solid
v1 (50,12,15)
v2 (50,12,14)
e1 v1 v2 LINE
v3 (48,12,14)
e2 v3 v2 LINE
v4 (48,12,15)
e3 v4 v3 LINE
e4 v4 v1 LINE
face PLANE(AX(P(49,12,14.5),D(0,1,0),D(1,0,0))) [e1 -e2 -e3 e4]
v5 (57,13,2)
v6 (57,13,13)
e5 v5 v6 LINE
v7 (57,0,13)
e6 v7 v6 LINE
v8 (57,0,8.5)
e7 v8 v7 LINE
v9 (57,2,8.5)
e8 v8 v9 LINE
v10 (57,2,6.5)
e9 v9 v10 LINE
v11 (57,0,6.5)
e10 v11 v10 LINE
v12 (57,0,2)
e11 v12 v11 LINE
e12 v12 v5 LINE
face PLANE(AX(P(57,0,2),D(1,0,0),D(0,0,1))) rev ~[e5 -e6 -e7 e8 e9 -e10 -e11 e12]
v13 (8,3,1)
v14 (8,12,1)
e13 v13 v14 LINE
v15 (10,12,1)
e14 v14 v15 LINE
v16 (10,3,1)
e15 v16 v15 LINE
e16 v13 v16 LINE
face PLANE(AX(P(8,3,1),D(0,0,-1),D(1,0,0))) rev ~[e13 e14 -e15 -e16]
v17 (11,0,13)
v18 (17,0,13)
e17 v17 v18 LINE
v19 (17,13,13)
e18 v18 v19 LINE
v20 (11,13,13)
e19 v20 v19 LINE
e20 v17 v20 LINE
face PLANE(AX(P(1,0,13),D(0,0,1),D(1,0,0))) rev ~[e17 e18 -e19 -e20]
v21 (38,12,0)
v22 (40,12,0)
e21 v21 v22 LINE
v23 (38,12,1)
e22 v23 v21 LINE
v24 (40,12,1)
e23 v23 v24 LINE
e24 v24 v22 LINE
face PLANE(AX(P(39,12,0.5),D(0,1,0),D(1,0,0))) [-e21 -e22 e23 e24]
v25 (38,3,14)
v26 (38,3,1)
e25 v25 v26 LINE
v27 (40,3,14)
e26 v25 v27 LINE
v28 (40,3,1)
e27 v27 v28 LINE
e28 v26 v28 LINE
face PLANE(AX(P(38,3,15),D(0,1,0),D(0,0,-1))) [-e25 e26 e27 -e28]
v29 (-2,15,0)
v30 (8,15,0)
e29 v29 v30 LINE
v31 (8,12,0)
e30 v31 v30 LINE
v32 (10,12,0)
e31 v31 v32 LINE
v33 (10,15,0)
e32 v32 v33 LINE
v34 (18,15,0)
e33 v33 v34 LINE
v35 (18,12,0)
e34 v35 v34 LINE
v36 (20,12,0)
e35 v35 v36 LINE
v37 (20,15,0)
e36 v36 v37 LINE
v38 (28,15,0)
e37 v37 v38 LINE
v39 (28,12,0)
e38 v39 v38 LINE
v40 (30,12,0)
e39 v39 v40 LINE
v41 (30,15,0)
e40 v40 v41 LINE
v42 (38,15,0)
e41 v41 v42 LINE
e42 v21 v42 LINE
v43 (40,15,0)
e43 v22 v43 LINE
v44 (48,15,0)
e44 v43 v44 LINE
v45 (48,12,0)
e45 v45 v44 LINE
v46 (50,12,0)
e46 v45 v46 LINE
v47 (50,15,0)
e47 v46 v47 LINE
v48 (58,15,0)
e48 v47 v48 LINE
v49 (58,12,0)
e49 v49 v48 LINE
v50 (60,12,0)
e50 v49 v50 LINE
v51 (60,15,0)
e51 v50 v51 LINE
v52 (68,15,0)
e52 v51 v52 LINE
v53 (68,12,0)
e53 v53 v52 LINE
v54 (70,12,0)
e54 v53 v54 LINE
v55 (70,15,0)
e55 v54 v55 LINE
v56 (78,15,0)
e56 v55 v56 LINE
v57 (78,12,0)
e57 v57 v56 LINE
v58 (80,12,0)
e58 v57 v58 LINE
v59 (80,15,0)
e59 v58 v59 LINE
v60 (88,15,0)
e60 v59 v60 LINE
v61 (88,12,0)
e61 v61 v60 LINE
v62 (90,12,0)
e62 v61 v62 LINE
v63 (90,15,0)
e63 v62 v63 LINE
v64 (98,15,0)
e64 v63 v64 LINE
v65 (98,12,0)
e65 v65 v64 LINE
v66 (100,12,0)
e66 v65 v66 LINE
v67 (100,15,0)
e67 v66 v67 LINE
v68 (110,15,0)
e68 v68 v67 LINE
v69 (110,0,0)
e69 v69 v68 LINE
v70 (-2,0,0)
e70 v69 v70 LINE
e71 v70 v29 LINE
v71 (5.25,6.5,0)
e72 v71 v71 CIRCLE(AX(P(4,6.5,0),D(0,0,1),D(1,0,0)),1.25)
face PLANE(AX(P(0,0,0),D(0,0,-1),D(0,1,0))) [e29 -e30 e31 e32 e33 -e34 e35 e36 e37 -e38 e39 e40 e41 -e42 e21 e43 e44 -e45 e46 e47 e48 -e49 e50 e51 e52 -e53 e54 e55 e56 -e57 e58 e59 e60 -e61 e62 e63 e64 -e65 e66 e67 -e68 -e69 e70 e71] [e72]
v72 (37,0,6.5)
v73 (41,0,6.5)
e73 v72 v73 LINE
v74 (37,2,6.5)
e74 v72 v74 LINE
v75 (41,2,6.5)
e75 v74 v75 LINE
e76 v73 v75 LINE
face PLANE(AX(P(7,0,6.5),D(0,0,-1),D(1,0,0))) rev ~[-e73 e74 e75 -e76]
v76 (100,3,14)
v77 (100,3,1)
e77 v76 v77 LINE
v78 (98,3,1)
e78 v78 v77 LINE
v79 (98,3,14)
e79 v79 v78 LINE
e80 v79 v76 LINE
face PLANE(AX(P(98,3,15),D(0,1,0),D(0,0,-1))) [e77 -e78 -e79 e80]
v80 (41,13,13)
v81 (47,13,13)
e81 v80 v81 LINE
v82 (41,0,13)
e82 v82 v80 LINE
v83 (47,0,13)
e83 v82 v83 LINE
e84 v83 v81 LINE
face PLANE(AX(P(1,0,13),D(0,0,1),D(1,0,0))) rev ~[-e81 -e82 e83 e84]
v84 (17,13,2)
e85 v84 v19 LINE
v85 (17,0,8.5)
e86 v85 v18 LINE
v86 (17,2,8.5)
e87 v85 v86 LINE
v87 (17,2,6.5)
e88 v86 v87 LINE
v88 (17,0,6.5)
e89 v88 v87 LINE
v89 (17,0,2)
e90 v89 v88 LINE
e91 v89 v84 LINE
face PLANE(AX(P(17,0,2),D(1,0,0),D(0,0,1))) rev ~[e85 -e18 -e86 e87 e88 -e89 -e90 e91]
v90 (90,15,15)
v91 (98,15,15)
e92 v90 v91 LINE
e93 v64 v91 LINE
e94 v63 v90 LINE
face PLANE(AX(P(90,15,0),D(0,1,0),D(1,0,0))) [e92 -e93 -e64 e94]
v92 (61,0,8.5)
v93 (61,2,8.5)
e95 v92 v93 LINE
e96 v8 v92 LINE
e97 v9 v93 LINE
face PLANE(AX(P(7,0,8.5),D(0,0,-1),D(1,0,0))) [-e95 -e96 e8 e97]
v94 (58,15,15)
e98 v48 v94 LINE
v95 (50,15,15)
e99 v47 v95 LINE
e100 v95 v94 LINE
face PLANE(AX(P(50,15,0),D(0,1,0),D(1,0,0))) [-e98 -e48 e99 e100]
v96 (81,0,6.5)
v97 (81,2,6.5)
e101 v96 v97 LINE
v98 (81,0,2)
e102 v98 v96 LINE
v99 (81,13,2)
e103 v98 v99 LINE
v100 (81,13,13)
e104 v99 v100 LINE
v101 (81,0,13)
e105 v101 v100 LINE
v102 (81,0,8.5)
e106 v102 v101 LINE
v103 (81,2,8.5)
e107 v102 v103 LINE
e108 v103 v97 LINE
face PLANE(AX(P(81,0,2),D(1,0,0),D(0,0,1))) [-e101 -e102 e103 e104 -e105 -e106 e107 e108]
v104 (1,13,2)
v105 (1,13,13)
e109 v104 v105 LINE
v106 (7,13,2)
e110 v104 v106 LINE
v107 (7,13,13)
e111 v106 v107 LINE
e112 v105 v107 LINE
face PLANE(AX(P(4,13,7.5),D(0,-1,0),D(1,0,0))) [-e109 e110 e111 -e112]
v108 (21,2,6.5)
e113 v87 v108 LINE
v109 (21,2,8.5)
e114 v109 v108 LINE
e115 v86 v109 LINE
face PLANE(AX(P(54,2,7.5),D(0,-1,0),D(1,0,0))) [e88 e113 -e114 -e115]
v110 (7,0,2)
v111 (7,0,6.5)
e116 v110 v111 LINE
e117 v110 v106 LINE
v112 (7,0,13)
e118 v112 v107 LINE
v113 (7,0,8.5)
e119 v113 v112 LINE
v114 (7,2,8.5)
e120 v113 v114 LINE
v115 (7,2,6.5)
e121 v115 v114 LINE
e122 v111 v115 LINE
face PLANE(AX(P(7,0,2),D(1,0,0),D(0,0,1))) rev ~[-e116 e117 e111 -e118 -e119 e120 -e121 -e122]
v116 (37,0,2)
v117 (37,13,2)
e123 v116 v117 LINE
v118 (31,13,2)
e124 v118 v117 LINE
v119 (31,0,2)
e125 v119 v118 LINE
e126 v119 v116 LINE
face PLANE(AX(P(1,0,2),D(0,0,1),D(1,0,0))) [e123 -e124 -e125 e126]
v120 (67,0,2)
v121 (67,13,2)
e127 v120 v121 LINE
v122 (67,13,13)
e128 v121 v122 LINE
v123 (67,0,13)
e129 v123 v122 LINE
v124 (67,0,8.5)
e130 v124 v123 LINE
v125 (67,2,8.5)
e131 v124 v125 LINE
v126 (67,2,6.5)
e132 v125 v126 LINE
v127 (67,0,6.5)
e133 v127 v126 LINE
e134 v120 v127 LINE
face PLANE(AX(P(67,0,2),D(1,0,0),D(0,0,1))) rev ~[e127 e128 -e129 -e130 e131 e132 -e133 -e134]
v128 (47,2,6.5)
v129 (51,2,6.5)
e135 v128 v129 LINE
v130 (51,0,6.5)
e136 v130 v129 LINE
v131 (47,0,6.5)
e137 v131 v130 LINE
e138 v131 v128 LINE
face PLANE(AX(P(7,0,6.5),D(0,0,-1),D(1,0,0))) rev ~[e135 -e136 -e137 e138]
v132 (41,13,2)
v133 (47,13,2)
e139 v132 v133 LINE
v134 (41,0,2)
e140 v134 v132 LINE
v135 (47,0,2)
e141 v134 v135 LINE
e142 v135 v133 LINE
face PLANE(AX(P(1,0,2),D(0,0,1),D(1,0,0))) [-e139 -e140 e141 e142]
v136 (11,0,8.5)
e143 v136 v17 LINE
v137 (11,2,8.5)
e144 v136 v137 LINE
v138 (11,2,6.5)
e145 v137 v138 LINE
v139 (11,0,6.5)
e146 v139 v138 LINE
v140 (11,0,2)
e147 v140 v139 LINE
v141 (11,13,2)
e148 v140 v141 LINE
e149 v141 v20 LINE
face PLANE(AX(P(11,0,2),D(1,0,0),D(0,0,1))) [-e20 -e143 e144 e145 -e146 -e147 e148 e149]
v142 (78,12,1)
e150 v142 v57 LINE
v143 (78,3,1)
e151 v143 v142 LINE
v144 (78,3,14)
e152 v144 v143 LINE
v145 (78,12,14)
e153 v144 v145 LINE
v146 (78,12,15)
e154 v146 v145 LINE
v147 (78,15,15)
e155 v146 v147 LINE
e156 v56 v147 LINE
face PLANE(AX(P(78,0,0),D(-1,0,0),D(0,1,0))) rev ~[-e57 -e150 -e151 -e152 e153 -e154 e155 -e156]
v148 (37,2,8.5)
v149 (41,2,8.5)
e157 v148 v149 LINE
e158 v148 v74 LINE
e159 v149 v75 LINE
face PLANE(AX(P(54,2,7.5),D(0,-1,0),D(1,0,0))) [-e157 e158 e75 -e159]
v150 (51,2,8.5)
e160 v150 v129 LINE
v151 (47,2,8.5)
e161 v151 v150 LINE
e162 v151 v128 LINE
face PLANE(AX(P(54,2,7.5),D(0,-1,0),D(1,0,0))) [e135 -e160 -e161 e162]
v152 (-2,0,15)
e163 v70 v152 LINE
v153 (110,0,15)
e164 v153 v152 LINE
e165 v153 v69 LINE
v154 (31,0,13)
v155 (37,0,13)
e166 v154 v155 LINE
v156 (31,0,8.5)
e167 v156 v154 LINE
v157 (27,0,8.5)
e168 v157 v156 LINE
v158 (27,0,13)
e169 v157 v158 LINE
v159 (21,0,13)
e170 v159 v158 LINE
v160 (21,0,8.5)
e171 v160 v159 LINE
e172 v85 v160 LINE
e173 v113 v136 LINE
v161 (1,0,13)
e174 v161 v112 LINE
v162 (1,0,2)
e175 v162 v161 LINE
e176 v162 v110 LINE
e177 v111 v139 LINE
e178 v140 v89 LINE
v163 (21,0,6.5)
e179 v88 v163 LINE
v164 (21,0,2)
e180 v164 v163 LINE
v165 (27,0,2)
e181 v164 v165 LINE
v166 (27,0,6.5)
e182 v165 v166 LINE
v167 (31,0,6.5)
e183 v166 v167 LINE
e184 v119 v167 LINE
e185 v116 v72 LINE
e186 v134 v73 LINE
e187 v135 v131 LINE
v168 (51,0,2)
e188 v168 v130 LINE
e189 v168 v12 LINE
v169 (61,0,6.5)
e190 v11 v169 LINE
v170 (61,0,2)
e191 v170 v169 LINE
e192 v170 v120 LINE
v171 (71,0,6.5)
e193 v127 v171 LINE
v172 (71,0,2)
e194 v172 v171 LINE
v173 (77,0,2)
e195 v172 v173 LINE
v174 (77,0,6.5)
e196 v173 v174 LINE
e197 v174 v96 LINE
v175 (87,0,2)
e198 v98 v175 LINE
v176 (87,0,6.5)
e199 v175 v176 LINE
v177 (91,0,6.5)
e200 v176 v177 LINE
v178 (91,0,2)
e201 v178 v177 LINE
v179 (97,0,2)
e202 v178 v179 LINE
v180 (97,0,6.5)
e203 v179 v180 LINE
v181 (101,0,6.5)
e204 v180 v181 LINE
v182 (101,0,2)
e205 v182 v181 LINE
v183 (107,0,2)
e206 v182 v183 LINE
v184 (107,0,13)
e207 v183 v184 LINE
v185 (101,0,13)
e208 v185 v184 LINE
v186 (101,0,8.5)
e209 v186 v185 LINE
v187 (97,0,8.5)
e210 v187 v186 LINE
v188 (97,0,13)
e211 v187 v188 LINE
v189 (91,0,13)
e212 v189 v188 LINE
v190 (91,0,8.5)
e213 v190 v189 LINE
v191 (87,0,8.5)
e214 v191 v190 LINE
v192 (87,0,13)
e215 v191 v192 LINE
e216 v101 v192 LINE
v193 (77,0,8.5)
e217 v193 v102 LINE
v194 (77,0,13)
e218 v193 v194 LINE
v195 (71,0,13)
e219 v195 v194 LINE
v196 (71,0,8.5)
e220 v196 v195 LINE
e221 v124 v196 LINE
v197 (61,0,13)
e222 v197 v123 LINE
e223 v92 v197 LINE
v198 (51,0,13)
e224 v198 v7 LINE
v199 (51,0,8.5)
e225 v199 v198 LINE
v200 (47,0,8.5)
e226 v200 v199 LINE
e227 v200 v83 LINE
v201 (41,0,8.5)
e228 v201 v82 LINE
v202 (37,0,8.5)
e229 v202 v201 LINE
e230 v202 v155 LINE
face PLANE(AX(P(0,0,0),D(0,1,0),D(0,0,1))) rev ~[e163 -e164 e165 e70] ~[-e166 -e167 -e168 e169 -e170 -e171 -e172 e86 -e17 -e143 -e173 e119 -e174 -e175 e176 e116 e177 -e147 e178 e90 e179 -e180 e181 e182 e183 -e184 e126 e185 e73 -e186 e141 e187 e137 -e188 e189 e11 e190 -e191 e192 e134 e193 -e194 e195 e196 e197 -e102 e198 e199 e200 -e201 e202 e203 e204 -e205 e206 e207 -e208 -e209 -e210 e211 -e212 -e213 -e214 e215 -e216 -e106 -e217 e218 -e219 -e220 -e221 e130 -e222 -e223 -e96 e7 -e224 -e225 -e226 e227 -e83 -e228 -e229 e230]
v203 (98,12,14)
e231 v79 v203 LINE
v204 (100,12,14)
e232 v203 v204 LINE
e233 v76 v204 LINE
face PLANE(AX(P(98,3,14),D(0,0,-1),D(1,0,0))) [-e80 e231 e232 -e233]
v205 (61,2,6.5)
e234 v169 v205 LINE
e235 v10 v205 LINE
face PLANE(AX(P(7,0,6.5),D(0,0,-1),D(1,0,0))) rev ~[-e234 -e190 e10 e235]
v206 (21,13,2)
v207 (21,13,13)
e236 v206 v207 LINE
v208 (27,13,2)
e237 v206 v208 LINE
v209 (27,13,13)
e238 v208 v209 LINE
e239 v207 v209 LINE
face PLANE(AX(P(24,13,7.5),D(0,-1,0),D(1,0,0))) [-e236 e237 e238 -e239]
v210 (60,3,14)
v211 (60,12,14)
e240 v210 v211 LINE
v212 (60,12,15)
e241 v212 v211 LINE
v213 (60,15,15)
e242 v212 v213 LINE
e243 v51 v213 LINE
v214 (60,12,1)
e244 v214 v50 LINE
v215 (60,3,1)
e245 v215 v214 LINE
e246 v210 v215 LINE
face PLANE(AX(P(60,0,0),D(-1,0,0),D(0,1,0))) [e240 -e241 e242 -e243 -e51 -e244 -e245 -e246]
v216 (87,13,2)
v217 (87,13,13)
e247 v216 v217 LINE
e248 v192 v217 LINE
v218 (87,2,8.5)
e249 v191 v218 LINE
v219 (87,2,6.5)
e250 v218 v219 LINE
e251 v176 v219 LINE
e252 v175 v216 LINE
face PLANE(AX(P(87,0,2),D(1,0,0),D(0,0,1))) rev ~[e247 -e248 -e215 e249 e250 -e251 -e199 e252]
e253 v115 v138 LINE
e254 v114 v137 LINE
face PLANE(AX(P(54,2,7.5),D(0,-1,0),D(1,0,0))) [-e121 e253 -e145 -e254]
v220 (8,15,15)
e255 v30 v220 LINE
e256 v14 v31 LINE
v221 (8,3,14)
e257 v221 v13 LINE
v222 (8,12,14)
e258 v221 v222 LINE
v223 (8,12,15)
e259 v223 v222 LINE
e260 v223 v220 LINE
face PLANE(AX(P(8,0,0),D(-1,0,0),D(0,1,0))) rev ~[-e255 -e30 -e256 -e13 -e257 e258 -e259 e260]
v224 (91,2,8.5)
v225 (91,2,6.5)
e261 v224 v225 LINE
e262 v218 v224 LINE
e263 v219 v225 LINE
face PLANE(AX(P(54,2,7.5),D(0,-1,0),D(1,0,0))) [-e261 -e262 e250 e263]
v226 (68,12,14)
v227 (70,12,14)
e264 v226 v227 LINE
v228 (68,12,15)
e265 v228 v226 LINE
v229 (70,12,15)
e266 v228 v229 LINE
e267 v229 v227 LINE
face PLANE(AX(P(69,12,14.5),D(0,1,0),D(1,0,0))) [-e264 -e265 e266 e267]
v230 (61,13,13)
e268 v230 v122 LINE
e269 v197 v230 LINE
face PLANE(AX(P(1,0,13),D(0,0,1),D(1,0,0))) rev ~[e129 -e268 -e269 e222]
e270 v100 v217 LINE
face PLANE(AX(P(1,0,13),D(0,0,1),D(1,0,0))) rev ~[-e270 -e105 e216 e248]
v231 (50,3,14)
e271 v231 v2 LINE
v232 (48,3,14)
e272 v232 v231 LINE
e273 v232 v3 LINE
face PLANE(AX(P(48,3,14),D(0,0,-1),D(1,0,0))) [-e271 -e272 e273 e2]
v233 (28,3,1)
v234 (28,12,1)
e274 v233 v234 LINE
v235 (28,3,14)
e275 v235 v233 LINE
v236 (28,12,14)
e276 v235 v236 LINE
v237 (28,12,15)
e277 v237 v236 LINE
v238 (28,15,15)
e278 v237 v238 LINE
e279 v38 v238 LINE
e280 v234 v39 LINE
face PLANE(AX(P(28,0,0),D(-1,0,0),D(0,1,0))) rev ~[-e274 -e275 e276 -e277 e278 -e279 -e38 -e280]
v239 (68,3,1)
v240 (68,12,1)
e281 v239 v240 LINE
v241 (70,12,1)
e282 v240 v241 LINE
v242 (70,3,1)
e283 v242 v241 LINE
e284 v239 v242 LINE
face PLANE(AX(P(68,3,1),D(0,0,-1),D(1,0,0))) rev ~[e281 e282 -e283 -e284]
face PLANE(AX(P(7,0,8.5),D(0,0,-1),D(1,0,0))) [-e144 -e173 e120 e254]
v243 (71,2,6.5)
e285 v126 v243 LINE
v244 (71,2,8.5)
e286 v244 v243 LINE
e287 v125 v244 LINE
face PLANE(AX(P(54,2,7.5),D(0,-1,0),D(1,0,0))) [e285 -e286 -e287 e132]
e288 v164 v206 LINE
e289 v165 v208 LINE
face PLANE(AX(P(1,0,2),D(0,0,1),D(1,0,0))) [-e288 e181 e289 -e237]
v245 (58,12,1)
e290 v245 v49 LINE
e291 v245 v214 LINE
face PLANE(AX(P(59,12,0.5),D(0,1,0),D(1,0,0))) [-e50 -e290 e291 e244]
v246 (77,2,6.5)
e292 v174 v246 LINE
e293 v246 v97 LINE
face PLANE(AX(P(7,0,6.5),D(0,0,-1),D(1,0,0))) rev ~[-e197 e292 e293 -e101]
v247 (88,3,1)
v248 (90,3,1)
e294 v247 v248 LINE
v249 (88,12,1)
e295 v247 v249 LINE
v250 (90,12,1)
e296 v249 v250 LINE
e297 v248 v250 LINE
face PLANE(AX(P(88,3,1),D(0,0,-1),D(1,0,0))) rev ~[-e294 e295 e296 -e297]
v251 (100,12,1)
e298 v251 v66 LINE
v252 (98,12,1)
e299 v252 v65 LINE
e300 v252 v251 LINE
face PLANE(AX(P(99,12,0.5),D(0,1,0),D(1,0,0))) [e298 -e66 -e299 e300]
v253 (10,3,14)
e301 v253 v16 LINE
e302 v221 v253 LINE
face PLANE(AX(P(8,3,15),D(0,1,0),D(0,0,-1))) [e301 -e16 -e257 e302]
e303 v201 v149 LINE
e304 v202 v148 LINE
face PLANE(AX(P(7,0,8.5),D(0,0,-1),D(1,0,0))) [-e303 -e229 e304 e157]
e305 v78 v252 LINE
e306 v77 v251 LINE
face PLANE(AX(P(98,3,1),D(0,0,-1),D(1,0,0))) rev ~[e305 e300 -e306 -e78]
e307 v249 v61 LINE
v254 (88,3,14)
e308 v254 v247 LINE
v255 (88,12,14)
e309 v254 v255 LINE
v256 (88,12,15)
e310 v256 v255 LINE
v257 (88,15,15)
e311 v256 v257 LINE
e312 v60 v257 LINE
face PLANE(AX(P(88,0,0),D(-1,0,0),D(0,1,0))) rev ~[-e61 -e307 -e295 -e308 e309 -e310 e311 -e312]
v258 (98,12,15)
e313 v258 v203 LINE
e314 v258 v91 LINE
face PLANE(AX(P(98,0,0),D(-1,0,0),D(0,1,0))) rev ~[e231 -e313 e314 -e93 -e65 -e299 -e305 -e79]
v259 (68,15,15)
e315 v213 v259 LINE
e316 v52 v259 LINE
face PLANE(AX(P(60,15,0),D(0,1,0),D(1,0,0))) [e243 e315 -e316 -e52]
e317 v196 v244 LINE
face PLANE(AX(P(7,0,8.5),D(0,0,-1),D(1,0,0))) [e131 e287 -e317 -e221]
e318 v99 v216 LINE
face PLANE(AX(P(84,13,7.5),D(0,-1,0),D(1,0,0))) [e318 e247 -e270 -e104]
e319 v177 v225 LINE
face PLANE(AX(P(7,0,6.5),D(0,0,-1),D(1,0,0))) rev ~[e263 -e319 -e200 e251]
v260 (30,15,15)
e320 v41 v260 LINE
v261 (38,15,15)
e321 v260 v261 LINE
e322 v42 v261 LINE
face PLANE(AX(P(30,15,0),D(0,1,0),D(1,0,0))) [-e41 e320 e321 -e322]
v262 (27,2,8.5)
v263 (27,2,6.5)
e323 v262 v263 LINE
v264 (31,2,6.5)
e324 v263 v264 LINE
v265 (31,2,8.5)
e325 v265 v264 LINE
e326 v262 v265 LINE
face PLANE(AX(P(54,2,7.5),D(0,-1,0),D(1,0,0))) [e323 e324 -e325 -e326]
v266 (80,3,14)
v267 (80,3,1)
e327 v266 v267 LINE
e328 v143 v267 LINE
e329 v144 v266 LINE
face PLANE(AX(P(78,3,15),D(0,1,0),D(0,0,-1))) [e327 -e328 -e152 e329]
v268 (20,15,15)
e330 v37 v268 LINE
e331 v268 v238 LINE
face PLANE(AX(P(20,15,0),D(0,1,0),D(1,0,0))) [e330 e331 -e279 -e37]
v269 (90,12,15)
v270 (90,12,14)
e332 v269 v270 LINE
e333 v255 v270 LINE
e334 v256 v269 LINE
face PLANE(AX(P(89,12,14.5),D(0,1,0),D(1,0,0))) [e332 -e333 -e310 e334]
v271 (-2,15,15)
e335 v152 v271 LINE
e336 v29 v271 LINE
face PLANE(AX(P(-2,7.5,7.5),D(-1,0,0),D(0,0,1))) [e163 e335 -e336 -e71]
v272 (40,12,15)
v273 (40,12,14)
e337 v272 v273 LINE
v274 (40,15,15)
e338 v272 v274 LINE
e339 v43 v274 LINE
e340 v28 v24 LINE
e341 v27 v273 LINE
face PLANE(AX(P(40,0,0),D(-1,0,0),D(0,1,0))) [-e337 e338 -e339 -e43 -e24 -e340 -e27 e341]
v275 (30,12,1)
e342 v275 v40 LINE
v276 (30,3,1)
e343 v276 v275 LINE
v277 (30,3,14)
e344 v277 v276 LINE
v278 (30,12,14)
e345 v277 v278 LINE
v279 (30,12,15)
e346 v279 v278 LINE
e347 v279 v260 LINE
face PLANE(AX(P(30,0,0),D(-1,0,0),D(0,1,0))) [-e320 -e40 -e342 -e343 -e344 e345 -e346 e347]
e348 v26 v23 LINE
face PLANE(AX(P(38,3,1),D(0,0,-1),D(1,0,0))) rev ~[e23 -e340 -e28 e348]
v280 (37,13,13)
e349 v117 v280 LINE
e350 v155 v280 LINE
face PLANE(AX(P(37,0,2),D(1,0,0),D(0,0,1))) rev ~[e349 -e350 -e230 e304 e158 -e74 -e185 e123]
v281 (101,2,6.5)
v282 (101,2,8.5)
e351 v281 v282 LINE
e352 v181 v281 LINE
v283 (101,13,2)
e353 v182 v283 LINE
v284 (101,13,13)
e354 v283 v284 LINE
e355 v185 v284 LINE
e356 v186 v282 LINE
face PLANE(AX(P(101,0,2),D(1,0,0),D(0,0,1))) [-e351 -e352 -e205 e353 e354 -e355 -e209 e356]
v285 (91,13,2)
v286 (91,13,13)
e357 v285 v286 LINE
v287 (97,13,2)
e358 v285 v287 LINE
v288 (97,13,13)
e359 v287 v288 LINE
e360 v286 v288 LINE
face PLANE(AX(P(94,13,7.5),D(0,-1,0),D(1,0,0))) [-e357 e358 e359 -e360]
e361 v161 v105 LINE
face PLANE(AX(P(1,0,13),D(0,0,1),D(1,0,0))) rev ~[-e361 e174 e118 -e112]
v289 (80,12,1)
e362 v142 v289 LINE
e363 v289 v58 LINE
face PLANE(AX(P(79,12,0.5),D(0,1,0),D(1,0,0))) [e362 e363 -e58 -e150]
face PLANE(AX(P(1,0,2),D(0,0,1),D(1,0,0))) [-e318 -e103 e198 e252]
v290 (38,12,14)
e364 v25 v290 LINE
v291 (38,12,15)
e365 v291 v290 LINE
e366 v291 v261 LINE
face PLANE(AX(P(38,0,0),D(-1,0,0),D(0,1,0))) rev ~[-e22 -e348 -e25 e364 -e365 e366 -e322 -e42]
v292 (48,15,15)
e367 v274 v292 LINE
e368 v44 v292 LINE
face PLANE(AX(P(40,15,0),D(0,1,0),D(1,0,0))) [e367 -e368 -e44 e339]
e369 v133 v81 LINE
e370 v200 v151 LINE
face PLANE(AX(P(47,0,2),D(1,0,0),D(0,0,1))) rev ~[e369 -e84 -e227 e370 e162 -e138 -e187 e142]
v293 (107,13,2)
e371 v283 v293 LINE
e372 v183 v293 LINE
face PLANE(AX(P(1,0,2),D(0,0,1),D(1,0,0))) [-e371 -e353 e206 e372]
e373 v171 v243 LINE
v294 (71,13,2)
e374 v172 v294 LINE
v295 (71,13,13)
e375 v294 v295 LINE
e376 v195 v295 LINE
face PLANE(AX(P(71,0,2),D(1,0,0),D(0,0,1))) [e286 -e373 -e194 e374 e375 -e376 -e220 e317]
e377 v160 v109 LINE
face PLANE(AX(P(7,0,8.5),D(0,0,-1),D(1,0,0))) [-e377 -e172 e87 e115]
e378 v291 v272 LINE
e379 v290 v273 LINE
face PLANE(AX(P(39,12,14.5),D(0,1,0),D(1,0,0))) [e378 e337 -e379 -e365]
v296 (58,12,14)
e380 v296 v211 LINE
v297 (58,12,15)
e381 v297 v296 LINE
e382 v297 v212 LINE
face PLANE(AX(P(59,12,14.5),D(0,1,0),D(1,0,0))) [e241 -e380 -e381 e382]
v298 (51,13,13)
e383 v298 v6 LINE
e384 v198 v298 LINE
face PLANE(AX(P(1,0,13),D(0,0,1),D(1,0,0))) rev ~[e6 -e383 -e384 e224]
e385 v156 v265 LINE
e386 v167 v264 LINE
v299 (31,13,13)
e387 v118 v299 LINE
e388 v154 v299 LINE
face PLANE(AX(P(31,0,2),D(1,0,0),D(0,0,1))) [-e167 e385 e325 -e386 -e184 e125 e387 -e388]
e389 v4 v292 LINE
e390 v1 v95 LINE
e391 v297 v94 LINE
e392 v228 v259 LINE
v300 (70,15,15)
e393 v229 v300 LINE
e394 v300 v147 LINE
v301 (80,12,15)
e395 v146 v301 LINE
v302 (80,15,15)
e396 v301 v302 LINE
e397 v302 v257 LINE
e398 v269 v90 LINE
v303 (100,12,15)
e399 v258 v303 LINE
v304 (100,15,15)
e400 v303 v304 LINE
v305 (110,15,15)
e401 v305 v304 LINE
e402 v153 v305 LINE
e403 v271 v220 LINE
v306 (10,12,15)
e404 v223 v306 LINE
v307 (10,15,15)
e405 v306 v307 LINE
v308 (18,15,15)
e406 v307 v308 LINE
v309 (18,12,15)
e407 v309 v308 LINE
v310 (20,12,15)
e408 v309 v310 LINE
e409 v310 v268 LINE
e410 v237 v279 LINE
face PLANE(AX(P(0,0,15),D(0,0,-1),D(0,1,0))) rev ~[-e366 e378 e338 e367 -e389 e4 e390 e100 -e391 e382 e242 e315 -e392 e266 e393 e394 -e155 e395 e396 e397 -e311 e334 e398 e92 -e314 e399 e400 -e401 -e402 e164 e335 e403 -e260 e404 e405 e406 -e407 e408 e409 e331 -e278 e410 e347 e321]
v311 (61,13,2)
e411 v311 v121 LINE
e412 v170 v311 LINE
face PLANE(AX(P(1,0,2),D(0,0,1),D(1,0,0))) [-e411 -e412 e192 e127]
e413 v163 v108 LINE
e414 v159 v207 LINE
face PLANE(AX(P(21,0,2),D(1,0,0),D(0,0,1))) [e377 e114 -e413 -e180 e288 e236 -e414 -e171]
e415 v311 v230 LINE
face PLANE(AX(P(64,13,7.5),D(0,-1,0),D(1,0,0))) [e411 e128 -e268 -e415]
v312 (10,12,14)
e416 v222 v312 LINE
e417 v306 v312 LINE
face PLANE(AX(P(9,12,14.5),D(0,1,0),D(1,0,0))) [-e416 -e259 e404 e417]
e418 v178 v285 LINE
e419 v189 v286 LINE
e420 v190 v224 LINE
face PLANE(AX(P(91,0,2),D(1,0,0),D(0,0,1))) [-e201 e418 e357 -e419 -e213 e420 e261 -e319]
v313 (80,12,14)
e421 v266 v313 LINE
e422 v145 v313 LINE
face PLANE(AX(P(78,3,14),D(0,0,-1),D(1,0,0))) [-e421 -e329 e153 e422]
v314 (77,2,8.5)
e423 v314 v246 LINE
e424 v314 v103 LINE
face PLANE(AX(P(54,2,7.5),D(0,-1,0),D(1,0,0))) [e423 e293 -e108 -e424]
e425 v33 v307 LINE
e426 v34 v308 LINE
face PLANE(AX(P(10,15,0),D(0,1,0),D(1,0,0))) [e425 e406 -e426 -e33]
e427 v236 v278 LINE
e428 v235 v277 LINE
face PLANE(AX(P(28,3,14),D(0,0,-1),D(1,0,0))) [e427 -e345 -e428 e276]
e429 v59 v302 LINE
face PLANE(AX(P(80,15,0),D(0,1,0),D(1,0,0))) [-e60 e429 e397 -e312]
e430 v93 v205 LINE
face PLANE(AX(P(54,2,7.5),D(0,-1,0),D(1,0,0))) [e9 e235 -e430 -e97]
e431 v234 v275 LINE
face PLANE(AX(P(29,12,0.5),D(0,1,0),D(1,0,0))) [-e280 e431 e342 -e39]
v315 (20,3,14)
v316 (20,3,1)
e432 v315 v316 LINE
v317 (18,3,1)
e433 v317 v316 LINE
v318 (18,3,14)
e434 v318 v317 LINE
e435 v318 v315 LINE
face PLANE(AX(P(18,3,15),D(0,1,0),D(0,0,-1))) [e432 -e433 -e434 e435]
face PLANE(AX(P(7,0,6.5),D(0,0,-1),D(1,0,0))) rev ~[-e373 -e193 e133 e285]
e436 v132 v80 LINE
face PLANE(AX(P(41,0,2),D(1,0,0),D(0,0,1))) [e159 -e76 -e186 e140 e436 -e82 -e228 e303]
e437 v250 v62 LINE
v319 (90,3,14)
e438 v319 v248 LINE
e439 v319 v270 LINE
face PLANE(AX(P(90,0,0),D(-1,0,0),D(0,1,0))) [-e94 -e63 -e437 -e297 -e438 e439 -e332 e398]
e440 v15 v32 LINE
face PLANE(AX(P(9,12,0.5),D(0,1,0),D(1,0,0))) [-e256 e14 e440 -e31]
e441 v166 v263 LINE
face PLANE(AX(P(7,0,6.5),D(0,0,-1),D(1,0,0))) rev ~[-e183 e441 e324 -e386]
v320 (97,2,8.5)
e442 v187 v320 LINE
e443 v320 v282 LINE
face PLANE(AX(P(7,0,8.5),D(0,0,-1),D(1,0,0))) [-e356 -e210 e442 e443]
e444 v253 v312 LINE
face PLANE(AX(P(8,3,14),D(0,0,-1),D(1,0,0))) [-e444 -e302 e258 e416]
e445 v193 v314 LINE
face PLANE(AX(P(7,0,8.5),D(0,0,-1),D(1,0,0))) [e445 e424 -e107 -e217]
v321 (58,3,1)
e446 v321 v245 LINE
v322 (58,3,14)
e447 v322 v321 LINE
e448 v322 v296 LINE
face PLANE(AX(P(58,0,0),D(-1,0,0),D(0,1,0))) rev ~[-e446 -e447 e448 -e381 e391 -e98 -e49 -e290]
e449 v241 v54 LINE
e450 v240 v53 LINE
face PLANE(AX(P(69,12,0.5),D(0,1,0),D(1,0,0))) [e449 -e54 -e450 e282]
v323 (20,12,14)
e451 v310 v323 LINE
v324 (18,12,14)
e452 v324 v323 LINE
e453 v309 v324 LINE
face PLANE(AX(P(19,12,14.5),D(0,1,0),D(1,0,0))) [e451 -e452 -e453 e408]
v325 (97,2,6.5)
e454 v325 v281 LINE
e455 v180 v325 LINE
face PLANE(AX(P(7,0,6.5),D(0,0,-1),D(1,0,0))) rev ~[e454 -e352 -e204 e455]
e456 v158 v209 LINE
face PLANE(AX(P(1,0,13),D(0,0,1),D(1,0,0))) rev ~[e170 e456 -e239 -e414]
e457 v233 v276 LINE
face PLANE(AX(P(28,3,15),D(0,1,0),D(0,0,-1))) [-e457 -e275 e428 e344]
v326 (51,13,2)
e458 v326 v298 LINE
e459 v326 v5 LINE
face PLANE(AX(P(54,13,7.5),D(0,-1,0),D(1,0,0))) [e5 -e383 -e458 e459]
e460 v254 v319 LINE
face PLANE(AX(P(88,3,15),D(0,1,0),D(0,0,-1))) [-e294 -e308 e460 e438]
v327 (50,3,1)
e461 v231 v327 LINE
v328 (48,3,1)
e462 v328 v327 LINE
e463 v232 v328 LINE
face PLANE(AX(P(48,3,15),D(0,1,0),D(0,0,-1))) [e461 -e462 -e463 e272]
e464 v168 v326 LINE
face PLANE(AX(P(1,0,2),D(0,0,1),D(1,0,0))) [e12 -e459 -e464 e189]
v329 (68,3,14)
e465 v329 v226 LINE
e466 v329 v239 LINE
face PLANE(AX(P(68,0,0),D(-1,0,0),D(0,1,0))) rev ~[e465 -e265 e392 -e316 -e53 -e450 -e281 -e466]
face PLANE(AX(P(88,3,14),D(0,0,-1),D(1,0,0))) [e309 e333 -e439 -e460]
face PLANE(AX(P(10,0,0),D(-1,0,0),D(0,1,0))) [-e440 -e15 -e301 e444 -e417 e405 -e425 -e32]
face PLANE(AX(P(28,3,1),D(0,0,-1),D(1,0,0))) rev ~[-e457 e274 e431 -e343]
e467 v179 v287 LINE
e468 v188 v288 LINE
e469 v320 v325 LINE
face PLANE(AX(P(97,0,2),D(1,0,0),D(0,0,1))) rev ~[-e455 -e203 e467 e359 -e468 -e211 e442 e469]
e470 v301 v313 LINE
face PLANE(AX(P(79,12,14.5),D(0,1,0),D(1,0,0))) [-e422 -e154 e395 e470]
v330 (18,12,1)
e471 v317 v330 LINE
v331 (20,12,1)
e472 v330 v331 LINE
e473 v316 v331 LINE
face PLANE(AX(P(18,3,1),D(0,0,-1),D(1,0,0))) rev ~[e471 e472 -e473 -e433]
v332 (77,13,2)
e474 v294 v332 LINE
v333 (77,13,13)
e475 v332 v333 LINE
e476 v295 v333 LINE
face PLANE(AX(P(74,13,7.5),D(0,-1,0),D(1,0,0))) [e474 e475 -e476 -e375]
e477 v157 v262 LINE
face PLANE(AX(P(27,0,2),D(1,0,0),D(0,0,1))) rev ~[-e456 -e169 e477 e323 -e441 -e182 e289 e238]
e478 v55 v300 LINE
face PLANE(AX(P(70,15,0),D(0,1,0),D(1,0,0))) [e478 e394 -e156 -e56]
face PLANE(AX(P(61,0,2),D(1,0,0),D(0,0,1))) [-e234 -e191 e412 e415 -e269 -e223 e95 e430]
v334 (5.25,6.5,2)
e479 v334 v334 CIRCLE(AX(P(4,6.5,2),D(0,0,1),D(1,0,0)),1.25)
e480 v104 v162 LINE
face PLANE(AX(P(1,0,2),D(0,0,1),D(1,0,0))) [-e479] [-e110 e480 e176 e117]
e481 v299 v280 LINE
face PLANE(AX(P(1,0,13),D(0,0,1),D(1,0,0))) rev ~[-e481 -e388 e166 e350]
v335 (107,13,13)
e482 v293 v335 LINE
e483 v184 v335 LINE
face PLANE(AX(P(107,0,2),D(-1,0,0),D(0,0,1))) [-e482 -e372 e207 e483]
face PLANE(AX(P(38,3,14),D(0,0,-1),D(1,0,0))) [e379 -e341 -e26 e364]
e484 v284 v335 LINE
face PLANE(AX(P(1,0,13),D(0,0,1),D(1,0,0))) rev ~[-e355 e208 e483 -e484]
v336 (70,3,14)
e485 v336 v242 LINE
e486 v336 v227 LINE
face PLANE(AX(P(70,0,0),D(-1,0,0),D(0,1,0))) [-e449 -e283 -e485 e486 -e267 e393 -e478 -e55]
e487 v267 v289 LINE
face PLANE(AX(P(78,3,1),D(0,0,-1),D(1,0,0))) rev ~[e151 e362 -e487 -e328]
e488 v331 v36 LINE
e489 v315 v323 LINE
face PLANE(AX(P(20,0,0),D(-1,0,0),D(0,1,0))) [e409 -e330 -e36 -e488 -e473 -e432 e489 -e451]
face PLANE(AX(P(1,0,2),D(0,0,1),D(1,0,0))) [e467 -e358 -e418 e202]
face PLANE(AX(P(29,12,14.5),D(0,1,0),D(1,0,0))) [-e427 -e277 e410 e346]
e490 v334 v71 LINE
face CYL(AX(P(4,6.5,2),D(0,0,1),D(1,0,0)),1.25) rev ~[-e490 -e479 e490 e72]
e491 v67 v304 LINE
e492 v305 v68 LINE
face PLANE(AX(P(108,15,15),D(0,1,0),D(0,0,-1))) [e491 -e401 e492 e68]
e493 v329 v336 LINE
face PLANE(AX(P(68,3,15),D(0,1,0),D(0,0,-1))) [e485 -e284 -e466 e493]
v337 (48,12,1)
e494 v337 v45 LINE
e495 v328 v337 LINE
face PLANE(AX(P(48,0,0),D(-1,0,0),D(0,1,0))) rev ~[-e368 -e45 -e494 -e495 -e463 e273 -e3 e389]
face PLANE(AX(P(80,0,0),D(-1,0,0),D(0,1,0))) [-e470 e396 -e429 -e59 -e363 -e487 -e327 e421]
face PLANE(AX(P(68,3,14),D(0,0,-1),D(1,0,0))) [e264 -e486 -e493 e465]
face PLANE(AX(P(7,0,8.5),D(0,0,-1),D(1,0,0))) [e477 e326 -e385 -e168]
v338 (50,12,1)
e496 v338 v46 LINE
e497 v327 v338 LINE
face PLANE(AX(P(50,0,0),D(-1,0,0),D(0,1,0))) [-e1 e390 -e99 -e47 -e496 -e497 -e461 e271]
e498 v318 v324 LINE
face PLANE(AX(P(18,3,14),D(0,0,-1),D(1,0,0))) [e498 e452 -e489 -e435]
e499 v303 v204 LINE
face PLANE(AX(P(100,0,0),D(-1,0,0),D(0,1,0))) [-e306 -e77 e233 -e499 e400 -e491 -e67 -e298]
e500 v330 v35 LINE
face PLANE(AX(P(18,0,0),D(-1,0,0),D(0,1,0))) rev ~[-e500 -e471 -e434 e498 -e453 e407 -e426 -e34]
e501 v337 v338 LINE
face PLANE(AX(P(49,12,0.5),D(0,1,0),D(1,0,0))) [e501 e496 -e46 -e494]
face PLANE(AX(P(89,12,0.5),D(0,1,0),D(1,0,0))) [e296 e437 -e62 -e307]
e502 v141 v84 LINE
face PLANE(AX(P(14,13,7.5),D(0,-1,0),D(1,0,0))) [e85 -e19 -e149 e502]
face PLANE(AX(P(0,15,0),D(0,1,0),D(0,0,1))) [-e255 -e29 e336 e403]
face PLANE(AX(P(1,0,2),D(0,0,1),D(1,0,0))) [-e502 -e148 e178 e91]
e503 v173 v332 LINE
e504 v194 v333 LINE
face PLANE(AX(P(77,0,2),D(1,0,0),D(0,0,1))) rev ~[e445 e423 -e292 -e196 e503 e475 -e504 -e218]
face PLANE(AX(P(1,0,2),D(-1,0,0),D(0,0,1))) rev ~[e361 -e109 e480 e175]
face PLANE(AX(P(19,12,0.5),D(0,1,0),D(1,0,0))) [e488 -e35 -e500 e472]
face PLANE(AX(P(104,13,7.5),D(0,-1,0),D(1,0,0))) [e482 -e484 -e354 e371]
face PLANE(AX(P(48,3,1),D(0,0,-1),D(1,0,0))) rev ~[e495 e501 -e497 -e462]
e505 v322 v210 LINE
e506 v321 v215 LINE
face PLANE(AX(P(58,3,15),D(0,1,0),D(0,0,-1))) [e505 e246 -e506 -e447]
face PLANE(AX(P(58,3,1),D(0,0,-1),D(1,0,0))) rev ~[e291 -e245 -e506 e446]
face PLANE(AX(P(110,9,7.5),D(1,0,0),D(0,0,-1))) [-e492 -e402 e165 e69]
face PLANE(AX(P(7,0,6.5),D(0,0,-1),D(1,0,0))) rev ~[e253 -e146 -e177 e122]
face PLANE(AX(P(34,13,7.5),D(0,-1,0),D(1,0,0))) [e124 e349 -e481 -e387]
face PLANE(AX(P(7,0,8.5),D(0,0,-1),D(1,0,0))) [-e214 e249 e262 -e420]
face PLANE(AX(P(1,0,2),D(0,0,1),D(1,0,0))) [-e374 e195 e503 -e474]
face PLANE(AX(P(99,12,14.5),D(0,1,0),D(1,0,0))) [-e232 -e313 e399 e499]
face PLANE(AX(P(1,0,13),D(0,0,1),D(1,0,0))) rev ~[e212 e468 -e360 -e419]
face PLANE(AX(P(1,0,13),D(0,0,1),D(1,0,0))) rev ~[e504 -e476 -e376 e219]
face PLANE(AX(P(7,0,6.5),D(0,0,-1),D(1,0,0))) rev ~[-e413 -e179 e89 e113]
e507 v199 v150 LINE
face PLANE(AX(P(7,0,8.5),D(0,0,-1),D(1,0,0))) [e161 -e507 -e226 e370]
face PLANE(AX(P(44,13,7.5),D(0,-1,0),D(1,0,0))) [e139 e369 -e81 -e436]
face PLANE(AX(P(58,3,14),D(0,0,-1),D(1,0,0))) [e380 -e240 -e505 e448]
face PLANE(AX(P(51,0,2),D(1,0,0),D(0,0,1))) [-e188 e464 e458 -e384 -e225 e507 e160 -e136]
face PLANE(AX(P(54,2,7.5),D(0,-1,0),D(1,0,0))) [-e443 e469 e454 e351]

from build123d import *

# Parameters (mm, degrees)
SKETCH1_W                       = 8
SKETCH1_H                       = 15
FIRST_CHAMBER_BLOCK_DEPTH       = 15
SKETCH2_W                       = 6
SKETCH2_H                       = 11
FIRST_CHAMBER_CAVITY_DEPTH      = 13
SKETCH3_W                       = 15
SKETCH3_H                       = 3
CHAMBER_SPACER_DEPTH            = 2
PATTERN_CHAMBERS_COUNT          = 11
PATTERN_CHAMBERS_PITCH          = 10
SKETCH4_W                       = 15
SKETCH4_H                       = 12
THICKEN_END_1_DEPTH             = 2
SKETCH5_W                       = 15
SKETCH5_H                       = 15
THICKEN_END_2_DEPTH             = 2
SKETCH6_W                       = 94
SKETCH6_H                       = 2
CENTRAL_AIR_CHANNEL_DEPTH       = 2
SKETCH7_W                       = 108
SKETCH7_H                       = 13
SKETCH7_W_2                     = 106
SKETCH7_H_2                     = 11
BONDING_RIDGE_DEPTH             = 2
SKETCH9_W                       = 2
SKETCH9_H                       = 2.5
BONDING_BUMPS_DEPTH             = 2
PATTERN_BONDING_BUMPS_COUNT     = 10
PATTERN_BONDING_BUMPS_PITCH     = 10
SKIZZE1_W                       = 112
SKIZZE1_H                       = 15
SCHNITT_LINEAR_AUSTRAGEN1_DEPTH = 113.026782512
SKIZZE2_W                       = 2
SKIZZE2_H                       = 1
AUFSATZ_LINEAR_AUSTRAGEN1_DEPTH = 9
LINEARES_MUSTER1_COUNT          = 10
LINEARES_MUSTER1_PITCH          = 10
SKIZZE4_R                       = 1.25
SCHNITT_LINEAR_AUSTRAGEN3_DEPTH = 112.776562839


with BuildPart() as part:
    # Sketch1 → first chamber block (new body)
    with BuildSketch(Plane.XY):
        with Locations((4, 7.5)):
            Rectangle(SKETCH1_W, SKETCH1_H)
    extrude(amount=FIRST_CHAMBER_BLOCK_DEPTH)

    # Sketch2 → first chamber cavity (cut)
    with BuildSketch(Plane.XZ):
        with Locations((4, 7.5)):
            Rectangle(SKETCH2_W, SKETCH2_H)
    extrude(amount=-FIRST_CHAMBER_CAVITY_DEPTH, mode=Mode.SUBTRACT)

    # Sketch3 → chamber spacer (add)
    with BuildSketch(Plane(origin=(8, 0, 0), x_dir=(0, 0, -1), z_dir=(1, 0, 0))):
        with Locations((-7.5, 1.5)):
            Rectangle(SKETCH3_W, SKETCH3_H)
    extrude(amount=CHAMBER_SPACER_DEPTH)


with BuildPart() as pattern_chambers_1:
    # pattern chambers: pattern copy
    add(part.part.moved(Location(Vector(1, 0, 0) * (1 * PATTERN_CHAMBERS_PITCH))))


with BuildPart() as pattern_chambers_2:
    # pattern chambers: pattern copy
    add(part.part.moved(Location(Vector(1, 0, 0) * (2 * PATTERN_CHAMBERS_PITCH))))


with BuildPart() as pattern_chambers_3:
    # pattern chambers: pattern copy
    add(part.part.moved(Location(Vector(1, 0, 0) * (3 * PATTERN_CHAMBERS_PITCH))))


with BuildPart() as pattern_chambers_4:
    # pattern chambers: pattern copy
    add(part.part.moved(Location(Vector(1, 0, 0) * (4 * PATTERN_CHAMBERS_PITCH))))


with BuildPart() as pattern_chambers_5:
    # pattern chambers: pattern copy
    add(part.part.moved(Location(Vector(1, 0, 0) * (5 * PATTERN_CHAMBERS_PITCH))))


with BuildPart() as pattern_chambers_6:
    # pattern chambers: pattern copy
    add(part.part.moved(Location(Vector(1, 0, 0) * (6 * PATTERN_CHAMBERS_PITCH))))


with BuildPart() as pattern_chambers_7:
    # pattern chambers: pattern copy
    add(part.part.moved(Location(Vector(1, 0, 0) * (7 * PATTERN_CHAMBERS_PITCH))))


with BuildPart() as pattern_chambers_8:
    # pattern chambers: pattern copy
    add(part.part.moved(Location(Vector(1, 0, 0) * (8 * PATTERN_CHAMBERS_PITCH))))


with BuildPart() as pattern_chambers_9:
    # pattern chambers: pattern copy
    add(part.part.moved(Location(Vector(1, 0, 0) * (9 * PATTERN_CHAMBERS_PITCH))))


with BuildPart() as pattern_chambers_10:
    # pattern chambers: pattern copy
    add(part.part.moved(Location(Vector(1, 0, 0) * (10 * PATTERN_CHAMBERS_PITCH))))

    # combine into 1 solid body: union pattern chambers_9, pattern chambers_8, pattern chambers_7, pattern chambers_6, pattern chambers_5, pattern chambers_4, pattern chambers_3, pattern chambers_2, pattern chambers_1, part
    add(pattern_chambers_9.part)
    add(pattern_chambers_8.part)
    add(pattern_chambers_7.part)
    add(pattern_chambers_6.part)
    add(pattern_chambers_5.part)
    add(pattern_chambers_4.part)
    add(pattern_chambers_3.part)
    add(pattern_chambers_2.part)
    add(pattern_chambers_1.part)
    add(part.part)

    # Sketch4 → thicken end 1 (add)
    with BuildSketch(Plane(origin=(108, 0, 0), x_dir=(0, 0, -1), z_dir=(1, 0, 0))):
        with Locations((-7.5, 9)):
            Rectangle(SKETCH4_W, SKETCH4_H)
    extrude(amount=THICKEN_END_1_DEPTH)

    # Sketch5 → thicken end 2 (add)
    with BuildSketch(Plane.ZY):
        with Locations((7.5, 7.5)):
            Rectangle(SKETCH5_W, SKETCH5_H)
    extrude(amount=THICKEN_END_2_DEPTH)

    # Sketch6 → central air channel (cut)
    with BuildSketch(Plane.XZ):
        with Locations((54, 7.5)):
            Rectangle(SKETCH6_W, SKETCH6_H)
    extrude(amount=-CENTRAL_AIR_CHANNEL_DEPTH, mode=Mode.SUBTRACT)

    # Sketch7 → bonding ridge (add)
    with BuildSketch(Plane.XZ):
        with Locations((54, 7.5)):
            Rectangle(SKETCH7_W, SKETCH7_H)
        with Locations((54, 7.5)):
            Rectangle(SKETCH7_W_2, SKETCH7_H_2, mode=Mode.SUBTRACT)
    extrude(amount=BONDING_RIDGE_DEPTH)

    # Sketch9 → bonding bumps (add)
    with BuildSketch(Plane.XZ):
        with Locations((9, 10.75)):
            Rectangle(SKETCH9_W, SKETCH9_H)
        with Locations((9, 4.25)):
            Rectangle(SKETCH9_W, SKETCH9_H)
    bonding_bumps = extrude(amount=BONDING_BUMPS_DEPTH)

    # pattern bonding bumps: bonding bumps ×10
    with Locations(*[(i * PATTERN_BONDING_BUMPS_PITCH, 0, 0) for i in range(1, PATTERN_BONDING_BUMPS_COUNT)]):
        add(bonding_bumps)

    # Skizze1 → Schnitt-Linear austragen1 (cut, through all)
    with BuildSketch(Plane.XZ):
        with Locations((54, 7.5)):
            Rectangle(SKIZZE1_W, SKIZZE1_H)
    extrude(amount=SCHNITT_LINEAR_AUSTRAGEN1_DEPTH, mode=Mode.SUBTRACT)

    # Skizze2 → Aufsatz-Linear austragen1 (add)
    with BuildSketch(Plane(origin=(0, 3, 0), x_dir=(1, 0, 0), z_dir=(0, 1, 0))):
        with Locations((99, -0.5)):
            Rectangle(SKIZZE2_W, SKIZZE2_H)
        with Locations((99, -14.5)):
            Rectangle(SKIZZE2_W, SKIZZE2_H)
    aufsatz_linear_austragen1 = extrude(amount=AUFSATZ_LINEAR_AUSTRAGEN1_DEPTH)

    # Lineares Muster1: Aufsatz-Linear austragen1 ×10
    with Locations(*[(-i * LINEARES_MUSTER1_PITCH, 0, 0) for i in range(1, LINEARES_MUSTER1_COUNT)]):
        add(aufsatz_linear_austragen1)

    # Skizze4 → Schnitt-Linear austragen3 (cut, through all)
    with BuildSketch(Plane.XY.offset(2)):
        with Locations((4, 6.5)):
            Circle(SKIZZE4_R)
    extrude(amount=-SCHNITT_LINEAR_AUSTRAGEN3_DEPTH, mode=Mode.SUBTRACT)


solid = pattern_chambers_10.part
